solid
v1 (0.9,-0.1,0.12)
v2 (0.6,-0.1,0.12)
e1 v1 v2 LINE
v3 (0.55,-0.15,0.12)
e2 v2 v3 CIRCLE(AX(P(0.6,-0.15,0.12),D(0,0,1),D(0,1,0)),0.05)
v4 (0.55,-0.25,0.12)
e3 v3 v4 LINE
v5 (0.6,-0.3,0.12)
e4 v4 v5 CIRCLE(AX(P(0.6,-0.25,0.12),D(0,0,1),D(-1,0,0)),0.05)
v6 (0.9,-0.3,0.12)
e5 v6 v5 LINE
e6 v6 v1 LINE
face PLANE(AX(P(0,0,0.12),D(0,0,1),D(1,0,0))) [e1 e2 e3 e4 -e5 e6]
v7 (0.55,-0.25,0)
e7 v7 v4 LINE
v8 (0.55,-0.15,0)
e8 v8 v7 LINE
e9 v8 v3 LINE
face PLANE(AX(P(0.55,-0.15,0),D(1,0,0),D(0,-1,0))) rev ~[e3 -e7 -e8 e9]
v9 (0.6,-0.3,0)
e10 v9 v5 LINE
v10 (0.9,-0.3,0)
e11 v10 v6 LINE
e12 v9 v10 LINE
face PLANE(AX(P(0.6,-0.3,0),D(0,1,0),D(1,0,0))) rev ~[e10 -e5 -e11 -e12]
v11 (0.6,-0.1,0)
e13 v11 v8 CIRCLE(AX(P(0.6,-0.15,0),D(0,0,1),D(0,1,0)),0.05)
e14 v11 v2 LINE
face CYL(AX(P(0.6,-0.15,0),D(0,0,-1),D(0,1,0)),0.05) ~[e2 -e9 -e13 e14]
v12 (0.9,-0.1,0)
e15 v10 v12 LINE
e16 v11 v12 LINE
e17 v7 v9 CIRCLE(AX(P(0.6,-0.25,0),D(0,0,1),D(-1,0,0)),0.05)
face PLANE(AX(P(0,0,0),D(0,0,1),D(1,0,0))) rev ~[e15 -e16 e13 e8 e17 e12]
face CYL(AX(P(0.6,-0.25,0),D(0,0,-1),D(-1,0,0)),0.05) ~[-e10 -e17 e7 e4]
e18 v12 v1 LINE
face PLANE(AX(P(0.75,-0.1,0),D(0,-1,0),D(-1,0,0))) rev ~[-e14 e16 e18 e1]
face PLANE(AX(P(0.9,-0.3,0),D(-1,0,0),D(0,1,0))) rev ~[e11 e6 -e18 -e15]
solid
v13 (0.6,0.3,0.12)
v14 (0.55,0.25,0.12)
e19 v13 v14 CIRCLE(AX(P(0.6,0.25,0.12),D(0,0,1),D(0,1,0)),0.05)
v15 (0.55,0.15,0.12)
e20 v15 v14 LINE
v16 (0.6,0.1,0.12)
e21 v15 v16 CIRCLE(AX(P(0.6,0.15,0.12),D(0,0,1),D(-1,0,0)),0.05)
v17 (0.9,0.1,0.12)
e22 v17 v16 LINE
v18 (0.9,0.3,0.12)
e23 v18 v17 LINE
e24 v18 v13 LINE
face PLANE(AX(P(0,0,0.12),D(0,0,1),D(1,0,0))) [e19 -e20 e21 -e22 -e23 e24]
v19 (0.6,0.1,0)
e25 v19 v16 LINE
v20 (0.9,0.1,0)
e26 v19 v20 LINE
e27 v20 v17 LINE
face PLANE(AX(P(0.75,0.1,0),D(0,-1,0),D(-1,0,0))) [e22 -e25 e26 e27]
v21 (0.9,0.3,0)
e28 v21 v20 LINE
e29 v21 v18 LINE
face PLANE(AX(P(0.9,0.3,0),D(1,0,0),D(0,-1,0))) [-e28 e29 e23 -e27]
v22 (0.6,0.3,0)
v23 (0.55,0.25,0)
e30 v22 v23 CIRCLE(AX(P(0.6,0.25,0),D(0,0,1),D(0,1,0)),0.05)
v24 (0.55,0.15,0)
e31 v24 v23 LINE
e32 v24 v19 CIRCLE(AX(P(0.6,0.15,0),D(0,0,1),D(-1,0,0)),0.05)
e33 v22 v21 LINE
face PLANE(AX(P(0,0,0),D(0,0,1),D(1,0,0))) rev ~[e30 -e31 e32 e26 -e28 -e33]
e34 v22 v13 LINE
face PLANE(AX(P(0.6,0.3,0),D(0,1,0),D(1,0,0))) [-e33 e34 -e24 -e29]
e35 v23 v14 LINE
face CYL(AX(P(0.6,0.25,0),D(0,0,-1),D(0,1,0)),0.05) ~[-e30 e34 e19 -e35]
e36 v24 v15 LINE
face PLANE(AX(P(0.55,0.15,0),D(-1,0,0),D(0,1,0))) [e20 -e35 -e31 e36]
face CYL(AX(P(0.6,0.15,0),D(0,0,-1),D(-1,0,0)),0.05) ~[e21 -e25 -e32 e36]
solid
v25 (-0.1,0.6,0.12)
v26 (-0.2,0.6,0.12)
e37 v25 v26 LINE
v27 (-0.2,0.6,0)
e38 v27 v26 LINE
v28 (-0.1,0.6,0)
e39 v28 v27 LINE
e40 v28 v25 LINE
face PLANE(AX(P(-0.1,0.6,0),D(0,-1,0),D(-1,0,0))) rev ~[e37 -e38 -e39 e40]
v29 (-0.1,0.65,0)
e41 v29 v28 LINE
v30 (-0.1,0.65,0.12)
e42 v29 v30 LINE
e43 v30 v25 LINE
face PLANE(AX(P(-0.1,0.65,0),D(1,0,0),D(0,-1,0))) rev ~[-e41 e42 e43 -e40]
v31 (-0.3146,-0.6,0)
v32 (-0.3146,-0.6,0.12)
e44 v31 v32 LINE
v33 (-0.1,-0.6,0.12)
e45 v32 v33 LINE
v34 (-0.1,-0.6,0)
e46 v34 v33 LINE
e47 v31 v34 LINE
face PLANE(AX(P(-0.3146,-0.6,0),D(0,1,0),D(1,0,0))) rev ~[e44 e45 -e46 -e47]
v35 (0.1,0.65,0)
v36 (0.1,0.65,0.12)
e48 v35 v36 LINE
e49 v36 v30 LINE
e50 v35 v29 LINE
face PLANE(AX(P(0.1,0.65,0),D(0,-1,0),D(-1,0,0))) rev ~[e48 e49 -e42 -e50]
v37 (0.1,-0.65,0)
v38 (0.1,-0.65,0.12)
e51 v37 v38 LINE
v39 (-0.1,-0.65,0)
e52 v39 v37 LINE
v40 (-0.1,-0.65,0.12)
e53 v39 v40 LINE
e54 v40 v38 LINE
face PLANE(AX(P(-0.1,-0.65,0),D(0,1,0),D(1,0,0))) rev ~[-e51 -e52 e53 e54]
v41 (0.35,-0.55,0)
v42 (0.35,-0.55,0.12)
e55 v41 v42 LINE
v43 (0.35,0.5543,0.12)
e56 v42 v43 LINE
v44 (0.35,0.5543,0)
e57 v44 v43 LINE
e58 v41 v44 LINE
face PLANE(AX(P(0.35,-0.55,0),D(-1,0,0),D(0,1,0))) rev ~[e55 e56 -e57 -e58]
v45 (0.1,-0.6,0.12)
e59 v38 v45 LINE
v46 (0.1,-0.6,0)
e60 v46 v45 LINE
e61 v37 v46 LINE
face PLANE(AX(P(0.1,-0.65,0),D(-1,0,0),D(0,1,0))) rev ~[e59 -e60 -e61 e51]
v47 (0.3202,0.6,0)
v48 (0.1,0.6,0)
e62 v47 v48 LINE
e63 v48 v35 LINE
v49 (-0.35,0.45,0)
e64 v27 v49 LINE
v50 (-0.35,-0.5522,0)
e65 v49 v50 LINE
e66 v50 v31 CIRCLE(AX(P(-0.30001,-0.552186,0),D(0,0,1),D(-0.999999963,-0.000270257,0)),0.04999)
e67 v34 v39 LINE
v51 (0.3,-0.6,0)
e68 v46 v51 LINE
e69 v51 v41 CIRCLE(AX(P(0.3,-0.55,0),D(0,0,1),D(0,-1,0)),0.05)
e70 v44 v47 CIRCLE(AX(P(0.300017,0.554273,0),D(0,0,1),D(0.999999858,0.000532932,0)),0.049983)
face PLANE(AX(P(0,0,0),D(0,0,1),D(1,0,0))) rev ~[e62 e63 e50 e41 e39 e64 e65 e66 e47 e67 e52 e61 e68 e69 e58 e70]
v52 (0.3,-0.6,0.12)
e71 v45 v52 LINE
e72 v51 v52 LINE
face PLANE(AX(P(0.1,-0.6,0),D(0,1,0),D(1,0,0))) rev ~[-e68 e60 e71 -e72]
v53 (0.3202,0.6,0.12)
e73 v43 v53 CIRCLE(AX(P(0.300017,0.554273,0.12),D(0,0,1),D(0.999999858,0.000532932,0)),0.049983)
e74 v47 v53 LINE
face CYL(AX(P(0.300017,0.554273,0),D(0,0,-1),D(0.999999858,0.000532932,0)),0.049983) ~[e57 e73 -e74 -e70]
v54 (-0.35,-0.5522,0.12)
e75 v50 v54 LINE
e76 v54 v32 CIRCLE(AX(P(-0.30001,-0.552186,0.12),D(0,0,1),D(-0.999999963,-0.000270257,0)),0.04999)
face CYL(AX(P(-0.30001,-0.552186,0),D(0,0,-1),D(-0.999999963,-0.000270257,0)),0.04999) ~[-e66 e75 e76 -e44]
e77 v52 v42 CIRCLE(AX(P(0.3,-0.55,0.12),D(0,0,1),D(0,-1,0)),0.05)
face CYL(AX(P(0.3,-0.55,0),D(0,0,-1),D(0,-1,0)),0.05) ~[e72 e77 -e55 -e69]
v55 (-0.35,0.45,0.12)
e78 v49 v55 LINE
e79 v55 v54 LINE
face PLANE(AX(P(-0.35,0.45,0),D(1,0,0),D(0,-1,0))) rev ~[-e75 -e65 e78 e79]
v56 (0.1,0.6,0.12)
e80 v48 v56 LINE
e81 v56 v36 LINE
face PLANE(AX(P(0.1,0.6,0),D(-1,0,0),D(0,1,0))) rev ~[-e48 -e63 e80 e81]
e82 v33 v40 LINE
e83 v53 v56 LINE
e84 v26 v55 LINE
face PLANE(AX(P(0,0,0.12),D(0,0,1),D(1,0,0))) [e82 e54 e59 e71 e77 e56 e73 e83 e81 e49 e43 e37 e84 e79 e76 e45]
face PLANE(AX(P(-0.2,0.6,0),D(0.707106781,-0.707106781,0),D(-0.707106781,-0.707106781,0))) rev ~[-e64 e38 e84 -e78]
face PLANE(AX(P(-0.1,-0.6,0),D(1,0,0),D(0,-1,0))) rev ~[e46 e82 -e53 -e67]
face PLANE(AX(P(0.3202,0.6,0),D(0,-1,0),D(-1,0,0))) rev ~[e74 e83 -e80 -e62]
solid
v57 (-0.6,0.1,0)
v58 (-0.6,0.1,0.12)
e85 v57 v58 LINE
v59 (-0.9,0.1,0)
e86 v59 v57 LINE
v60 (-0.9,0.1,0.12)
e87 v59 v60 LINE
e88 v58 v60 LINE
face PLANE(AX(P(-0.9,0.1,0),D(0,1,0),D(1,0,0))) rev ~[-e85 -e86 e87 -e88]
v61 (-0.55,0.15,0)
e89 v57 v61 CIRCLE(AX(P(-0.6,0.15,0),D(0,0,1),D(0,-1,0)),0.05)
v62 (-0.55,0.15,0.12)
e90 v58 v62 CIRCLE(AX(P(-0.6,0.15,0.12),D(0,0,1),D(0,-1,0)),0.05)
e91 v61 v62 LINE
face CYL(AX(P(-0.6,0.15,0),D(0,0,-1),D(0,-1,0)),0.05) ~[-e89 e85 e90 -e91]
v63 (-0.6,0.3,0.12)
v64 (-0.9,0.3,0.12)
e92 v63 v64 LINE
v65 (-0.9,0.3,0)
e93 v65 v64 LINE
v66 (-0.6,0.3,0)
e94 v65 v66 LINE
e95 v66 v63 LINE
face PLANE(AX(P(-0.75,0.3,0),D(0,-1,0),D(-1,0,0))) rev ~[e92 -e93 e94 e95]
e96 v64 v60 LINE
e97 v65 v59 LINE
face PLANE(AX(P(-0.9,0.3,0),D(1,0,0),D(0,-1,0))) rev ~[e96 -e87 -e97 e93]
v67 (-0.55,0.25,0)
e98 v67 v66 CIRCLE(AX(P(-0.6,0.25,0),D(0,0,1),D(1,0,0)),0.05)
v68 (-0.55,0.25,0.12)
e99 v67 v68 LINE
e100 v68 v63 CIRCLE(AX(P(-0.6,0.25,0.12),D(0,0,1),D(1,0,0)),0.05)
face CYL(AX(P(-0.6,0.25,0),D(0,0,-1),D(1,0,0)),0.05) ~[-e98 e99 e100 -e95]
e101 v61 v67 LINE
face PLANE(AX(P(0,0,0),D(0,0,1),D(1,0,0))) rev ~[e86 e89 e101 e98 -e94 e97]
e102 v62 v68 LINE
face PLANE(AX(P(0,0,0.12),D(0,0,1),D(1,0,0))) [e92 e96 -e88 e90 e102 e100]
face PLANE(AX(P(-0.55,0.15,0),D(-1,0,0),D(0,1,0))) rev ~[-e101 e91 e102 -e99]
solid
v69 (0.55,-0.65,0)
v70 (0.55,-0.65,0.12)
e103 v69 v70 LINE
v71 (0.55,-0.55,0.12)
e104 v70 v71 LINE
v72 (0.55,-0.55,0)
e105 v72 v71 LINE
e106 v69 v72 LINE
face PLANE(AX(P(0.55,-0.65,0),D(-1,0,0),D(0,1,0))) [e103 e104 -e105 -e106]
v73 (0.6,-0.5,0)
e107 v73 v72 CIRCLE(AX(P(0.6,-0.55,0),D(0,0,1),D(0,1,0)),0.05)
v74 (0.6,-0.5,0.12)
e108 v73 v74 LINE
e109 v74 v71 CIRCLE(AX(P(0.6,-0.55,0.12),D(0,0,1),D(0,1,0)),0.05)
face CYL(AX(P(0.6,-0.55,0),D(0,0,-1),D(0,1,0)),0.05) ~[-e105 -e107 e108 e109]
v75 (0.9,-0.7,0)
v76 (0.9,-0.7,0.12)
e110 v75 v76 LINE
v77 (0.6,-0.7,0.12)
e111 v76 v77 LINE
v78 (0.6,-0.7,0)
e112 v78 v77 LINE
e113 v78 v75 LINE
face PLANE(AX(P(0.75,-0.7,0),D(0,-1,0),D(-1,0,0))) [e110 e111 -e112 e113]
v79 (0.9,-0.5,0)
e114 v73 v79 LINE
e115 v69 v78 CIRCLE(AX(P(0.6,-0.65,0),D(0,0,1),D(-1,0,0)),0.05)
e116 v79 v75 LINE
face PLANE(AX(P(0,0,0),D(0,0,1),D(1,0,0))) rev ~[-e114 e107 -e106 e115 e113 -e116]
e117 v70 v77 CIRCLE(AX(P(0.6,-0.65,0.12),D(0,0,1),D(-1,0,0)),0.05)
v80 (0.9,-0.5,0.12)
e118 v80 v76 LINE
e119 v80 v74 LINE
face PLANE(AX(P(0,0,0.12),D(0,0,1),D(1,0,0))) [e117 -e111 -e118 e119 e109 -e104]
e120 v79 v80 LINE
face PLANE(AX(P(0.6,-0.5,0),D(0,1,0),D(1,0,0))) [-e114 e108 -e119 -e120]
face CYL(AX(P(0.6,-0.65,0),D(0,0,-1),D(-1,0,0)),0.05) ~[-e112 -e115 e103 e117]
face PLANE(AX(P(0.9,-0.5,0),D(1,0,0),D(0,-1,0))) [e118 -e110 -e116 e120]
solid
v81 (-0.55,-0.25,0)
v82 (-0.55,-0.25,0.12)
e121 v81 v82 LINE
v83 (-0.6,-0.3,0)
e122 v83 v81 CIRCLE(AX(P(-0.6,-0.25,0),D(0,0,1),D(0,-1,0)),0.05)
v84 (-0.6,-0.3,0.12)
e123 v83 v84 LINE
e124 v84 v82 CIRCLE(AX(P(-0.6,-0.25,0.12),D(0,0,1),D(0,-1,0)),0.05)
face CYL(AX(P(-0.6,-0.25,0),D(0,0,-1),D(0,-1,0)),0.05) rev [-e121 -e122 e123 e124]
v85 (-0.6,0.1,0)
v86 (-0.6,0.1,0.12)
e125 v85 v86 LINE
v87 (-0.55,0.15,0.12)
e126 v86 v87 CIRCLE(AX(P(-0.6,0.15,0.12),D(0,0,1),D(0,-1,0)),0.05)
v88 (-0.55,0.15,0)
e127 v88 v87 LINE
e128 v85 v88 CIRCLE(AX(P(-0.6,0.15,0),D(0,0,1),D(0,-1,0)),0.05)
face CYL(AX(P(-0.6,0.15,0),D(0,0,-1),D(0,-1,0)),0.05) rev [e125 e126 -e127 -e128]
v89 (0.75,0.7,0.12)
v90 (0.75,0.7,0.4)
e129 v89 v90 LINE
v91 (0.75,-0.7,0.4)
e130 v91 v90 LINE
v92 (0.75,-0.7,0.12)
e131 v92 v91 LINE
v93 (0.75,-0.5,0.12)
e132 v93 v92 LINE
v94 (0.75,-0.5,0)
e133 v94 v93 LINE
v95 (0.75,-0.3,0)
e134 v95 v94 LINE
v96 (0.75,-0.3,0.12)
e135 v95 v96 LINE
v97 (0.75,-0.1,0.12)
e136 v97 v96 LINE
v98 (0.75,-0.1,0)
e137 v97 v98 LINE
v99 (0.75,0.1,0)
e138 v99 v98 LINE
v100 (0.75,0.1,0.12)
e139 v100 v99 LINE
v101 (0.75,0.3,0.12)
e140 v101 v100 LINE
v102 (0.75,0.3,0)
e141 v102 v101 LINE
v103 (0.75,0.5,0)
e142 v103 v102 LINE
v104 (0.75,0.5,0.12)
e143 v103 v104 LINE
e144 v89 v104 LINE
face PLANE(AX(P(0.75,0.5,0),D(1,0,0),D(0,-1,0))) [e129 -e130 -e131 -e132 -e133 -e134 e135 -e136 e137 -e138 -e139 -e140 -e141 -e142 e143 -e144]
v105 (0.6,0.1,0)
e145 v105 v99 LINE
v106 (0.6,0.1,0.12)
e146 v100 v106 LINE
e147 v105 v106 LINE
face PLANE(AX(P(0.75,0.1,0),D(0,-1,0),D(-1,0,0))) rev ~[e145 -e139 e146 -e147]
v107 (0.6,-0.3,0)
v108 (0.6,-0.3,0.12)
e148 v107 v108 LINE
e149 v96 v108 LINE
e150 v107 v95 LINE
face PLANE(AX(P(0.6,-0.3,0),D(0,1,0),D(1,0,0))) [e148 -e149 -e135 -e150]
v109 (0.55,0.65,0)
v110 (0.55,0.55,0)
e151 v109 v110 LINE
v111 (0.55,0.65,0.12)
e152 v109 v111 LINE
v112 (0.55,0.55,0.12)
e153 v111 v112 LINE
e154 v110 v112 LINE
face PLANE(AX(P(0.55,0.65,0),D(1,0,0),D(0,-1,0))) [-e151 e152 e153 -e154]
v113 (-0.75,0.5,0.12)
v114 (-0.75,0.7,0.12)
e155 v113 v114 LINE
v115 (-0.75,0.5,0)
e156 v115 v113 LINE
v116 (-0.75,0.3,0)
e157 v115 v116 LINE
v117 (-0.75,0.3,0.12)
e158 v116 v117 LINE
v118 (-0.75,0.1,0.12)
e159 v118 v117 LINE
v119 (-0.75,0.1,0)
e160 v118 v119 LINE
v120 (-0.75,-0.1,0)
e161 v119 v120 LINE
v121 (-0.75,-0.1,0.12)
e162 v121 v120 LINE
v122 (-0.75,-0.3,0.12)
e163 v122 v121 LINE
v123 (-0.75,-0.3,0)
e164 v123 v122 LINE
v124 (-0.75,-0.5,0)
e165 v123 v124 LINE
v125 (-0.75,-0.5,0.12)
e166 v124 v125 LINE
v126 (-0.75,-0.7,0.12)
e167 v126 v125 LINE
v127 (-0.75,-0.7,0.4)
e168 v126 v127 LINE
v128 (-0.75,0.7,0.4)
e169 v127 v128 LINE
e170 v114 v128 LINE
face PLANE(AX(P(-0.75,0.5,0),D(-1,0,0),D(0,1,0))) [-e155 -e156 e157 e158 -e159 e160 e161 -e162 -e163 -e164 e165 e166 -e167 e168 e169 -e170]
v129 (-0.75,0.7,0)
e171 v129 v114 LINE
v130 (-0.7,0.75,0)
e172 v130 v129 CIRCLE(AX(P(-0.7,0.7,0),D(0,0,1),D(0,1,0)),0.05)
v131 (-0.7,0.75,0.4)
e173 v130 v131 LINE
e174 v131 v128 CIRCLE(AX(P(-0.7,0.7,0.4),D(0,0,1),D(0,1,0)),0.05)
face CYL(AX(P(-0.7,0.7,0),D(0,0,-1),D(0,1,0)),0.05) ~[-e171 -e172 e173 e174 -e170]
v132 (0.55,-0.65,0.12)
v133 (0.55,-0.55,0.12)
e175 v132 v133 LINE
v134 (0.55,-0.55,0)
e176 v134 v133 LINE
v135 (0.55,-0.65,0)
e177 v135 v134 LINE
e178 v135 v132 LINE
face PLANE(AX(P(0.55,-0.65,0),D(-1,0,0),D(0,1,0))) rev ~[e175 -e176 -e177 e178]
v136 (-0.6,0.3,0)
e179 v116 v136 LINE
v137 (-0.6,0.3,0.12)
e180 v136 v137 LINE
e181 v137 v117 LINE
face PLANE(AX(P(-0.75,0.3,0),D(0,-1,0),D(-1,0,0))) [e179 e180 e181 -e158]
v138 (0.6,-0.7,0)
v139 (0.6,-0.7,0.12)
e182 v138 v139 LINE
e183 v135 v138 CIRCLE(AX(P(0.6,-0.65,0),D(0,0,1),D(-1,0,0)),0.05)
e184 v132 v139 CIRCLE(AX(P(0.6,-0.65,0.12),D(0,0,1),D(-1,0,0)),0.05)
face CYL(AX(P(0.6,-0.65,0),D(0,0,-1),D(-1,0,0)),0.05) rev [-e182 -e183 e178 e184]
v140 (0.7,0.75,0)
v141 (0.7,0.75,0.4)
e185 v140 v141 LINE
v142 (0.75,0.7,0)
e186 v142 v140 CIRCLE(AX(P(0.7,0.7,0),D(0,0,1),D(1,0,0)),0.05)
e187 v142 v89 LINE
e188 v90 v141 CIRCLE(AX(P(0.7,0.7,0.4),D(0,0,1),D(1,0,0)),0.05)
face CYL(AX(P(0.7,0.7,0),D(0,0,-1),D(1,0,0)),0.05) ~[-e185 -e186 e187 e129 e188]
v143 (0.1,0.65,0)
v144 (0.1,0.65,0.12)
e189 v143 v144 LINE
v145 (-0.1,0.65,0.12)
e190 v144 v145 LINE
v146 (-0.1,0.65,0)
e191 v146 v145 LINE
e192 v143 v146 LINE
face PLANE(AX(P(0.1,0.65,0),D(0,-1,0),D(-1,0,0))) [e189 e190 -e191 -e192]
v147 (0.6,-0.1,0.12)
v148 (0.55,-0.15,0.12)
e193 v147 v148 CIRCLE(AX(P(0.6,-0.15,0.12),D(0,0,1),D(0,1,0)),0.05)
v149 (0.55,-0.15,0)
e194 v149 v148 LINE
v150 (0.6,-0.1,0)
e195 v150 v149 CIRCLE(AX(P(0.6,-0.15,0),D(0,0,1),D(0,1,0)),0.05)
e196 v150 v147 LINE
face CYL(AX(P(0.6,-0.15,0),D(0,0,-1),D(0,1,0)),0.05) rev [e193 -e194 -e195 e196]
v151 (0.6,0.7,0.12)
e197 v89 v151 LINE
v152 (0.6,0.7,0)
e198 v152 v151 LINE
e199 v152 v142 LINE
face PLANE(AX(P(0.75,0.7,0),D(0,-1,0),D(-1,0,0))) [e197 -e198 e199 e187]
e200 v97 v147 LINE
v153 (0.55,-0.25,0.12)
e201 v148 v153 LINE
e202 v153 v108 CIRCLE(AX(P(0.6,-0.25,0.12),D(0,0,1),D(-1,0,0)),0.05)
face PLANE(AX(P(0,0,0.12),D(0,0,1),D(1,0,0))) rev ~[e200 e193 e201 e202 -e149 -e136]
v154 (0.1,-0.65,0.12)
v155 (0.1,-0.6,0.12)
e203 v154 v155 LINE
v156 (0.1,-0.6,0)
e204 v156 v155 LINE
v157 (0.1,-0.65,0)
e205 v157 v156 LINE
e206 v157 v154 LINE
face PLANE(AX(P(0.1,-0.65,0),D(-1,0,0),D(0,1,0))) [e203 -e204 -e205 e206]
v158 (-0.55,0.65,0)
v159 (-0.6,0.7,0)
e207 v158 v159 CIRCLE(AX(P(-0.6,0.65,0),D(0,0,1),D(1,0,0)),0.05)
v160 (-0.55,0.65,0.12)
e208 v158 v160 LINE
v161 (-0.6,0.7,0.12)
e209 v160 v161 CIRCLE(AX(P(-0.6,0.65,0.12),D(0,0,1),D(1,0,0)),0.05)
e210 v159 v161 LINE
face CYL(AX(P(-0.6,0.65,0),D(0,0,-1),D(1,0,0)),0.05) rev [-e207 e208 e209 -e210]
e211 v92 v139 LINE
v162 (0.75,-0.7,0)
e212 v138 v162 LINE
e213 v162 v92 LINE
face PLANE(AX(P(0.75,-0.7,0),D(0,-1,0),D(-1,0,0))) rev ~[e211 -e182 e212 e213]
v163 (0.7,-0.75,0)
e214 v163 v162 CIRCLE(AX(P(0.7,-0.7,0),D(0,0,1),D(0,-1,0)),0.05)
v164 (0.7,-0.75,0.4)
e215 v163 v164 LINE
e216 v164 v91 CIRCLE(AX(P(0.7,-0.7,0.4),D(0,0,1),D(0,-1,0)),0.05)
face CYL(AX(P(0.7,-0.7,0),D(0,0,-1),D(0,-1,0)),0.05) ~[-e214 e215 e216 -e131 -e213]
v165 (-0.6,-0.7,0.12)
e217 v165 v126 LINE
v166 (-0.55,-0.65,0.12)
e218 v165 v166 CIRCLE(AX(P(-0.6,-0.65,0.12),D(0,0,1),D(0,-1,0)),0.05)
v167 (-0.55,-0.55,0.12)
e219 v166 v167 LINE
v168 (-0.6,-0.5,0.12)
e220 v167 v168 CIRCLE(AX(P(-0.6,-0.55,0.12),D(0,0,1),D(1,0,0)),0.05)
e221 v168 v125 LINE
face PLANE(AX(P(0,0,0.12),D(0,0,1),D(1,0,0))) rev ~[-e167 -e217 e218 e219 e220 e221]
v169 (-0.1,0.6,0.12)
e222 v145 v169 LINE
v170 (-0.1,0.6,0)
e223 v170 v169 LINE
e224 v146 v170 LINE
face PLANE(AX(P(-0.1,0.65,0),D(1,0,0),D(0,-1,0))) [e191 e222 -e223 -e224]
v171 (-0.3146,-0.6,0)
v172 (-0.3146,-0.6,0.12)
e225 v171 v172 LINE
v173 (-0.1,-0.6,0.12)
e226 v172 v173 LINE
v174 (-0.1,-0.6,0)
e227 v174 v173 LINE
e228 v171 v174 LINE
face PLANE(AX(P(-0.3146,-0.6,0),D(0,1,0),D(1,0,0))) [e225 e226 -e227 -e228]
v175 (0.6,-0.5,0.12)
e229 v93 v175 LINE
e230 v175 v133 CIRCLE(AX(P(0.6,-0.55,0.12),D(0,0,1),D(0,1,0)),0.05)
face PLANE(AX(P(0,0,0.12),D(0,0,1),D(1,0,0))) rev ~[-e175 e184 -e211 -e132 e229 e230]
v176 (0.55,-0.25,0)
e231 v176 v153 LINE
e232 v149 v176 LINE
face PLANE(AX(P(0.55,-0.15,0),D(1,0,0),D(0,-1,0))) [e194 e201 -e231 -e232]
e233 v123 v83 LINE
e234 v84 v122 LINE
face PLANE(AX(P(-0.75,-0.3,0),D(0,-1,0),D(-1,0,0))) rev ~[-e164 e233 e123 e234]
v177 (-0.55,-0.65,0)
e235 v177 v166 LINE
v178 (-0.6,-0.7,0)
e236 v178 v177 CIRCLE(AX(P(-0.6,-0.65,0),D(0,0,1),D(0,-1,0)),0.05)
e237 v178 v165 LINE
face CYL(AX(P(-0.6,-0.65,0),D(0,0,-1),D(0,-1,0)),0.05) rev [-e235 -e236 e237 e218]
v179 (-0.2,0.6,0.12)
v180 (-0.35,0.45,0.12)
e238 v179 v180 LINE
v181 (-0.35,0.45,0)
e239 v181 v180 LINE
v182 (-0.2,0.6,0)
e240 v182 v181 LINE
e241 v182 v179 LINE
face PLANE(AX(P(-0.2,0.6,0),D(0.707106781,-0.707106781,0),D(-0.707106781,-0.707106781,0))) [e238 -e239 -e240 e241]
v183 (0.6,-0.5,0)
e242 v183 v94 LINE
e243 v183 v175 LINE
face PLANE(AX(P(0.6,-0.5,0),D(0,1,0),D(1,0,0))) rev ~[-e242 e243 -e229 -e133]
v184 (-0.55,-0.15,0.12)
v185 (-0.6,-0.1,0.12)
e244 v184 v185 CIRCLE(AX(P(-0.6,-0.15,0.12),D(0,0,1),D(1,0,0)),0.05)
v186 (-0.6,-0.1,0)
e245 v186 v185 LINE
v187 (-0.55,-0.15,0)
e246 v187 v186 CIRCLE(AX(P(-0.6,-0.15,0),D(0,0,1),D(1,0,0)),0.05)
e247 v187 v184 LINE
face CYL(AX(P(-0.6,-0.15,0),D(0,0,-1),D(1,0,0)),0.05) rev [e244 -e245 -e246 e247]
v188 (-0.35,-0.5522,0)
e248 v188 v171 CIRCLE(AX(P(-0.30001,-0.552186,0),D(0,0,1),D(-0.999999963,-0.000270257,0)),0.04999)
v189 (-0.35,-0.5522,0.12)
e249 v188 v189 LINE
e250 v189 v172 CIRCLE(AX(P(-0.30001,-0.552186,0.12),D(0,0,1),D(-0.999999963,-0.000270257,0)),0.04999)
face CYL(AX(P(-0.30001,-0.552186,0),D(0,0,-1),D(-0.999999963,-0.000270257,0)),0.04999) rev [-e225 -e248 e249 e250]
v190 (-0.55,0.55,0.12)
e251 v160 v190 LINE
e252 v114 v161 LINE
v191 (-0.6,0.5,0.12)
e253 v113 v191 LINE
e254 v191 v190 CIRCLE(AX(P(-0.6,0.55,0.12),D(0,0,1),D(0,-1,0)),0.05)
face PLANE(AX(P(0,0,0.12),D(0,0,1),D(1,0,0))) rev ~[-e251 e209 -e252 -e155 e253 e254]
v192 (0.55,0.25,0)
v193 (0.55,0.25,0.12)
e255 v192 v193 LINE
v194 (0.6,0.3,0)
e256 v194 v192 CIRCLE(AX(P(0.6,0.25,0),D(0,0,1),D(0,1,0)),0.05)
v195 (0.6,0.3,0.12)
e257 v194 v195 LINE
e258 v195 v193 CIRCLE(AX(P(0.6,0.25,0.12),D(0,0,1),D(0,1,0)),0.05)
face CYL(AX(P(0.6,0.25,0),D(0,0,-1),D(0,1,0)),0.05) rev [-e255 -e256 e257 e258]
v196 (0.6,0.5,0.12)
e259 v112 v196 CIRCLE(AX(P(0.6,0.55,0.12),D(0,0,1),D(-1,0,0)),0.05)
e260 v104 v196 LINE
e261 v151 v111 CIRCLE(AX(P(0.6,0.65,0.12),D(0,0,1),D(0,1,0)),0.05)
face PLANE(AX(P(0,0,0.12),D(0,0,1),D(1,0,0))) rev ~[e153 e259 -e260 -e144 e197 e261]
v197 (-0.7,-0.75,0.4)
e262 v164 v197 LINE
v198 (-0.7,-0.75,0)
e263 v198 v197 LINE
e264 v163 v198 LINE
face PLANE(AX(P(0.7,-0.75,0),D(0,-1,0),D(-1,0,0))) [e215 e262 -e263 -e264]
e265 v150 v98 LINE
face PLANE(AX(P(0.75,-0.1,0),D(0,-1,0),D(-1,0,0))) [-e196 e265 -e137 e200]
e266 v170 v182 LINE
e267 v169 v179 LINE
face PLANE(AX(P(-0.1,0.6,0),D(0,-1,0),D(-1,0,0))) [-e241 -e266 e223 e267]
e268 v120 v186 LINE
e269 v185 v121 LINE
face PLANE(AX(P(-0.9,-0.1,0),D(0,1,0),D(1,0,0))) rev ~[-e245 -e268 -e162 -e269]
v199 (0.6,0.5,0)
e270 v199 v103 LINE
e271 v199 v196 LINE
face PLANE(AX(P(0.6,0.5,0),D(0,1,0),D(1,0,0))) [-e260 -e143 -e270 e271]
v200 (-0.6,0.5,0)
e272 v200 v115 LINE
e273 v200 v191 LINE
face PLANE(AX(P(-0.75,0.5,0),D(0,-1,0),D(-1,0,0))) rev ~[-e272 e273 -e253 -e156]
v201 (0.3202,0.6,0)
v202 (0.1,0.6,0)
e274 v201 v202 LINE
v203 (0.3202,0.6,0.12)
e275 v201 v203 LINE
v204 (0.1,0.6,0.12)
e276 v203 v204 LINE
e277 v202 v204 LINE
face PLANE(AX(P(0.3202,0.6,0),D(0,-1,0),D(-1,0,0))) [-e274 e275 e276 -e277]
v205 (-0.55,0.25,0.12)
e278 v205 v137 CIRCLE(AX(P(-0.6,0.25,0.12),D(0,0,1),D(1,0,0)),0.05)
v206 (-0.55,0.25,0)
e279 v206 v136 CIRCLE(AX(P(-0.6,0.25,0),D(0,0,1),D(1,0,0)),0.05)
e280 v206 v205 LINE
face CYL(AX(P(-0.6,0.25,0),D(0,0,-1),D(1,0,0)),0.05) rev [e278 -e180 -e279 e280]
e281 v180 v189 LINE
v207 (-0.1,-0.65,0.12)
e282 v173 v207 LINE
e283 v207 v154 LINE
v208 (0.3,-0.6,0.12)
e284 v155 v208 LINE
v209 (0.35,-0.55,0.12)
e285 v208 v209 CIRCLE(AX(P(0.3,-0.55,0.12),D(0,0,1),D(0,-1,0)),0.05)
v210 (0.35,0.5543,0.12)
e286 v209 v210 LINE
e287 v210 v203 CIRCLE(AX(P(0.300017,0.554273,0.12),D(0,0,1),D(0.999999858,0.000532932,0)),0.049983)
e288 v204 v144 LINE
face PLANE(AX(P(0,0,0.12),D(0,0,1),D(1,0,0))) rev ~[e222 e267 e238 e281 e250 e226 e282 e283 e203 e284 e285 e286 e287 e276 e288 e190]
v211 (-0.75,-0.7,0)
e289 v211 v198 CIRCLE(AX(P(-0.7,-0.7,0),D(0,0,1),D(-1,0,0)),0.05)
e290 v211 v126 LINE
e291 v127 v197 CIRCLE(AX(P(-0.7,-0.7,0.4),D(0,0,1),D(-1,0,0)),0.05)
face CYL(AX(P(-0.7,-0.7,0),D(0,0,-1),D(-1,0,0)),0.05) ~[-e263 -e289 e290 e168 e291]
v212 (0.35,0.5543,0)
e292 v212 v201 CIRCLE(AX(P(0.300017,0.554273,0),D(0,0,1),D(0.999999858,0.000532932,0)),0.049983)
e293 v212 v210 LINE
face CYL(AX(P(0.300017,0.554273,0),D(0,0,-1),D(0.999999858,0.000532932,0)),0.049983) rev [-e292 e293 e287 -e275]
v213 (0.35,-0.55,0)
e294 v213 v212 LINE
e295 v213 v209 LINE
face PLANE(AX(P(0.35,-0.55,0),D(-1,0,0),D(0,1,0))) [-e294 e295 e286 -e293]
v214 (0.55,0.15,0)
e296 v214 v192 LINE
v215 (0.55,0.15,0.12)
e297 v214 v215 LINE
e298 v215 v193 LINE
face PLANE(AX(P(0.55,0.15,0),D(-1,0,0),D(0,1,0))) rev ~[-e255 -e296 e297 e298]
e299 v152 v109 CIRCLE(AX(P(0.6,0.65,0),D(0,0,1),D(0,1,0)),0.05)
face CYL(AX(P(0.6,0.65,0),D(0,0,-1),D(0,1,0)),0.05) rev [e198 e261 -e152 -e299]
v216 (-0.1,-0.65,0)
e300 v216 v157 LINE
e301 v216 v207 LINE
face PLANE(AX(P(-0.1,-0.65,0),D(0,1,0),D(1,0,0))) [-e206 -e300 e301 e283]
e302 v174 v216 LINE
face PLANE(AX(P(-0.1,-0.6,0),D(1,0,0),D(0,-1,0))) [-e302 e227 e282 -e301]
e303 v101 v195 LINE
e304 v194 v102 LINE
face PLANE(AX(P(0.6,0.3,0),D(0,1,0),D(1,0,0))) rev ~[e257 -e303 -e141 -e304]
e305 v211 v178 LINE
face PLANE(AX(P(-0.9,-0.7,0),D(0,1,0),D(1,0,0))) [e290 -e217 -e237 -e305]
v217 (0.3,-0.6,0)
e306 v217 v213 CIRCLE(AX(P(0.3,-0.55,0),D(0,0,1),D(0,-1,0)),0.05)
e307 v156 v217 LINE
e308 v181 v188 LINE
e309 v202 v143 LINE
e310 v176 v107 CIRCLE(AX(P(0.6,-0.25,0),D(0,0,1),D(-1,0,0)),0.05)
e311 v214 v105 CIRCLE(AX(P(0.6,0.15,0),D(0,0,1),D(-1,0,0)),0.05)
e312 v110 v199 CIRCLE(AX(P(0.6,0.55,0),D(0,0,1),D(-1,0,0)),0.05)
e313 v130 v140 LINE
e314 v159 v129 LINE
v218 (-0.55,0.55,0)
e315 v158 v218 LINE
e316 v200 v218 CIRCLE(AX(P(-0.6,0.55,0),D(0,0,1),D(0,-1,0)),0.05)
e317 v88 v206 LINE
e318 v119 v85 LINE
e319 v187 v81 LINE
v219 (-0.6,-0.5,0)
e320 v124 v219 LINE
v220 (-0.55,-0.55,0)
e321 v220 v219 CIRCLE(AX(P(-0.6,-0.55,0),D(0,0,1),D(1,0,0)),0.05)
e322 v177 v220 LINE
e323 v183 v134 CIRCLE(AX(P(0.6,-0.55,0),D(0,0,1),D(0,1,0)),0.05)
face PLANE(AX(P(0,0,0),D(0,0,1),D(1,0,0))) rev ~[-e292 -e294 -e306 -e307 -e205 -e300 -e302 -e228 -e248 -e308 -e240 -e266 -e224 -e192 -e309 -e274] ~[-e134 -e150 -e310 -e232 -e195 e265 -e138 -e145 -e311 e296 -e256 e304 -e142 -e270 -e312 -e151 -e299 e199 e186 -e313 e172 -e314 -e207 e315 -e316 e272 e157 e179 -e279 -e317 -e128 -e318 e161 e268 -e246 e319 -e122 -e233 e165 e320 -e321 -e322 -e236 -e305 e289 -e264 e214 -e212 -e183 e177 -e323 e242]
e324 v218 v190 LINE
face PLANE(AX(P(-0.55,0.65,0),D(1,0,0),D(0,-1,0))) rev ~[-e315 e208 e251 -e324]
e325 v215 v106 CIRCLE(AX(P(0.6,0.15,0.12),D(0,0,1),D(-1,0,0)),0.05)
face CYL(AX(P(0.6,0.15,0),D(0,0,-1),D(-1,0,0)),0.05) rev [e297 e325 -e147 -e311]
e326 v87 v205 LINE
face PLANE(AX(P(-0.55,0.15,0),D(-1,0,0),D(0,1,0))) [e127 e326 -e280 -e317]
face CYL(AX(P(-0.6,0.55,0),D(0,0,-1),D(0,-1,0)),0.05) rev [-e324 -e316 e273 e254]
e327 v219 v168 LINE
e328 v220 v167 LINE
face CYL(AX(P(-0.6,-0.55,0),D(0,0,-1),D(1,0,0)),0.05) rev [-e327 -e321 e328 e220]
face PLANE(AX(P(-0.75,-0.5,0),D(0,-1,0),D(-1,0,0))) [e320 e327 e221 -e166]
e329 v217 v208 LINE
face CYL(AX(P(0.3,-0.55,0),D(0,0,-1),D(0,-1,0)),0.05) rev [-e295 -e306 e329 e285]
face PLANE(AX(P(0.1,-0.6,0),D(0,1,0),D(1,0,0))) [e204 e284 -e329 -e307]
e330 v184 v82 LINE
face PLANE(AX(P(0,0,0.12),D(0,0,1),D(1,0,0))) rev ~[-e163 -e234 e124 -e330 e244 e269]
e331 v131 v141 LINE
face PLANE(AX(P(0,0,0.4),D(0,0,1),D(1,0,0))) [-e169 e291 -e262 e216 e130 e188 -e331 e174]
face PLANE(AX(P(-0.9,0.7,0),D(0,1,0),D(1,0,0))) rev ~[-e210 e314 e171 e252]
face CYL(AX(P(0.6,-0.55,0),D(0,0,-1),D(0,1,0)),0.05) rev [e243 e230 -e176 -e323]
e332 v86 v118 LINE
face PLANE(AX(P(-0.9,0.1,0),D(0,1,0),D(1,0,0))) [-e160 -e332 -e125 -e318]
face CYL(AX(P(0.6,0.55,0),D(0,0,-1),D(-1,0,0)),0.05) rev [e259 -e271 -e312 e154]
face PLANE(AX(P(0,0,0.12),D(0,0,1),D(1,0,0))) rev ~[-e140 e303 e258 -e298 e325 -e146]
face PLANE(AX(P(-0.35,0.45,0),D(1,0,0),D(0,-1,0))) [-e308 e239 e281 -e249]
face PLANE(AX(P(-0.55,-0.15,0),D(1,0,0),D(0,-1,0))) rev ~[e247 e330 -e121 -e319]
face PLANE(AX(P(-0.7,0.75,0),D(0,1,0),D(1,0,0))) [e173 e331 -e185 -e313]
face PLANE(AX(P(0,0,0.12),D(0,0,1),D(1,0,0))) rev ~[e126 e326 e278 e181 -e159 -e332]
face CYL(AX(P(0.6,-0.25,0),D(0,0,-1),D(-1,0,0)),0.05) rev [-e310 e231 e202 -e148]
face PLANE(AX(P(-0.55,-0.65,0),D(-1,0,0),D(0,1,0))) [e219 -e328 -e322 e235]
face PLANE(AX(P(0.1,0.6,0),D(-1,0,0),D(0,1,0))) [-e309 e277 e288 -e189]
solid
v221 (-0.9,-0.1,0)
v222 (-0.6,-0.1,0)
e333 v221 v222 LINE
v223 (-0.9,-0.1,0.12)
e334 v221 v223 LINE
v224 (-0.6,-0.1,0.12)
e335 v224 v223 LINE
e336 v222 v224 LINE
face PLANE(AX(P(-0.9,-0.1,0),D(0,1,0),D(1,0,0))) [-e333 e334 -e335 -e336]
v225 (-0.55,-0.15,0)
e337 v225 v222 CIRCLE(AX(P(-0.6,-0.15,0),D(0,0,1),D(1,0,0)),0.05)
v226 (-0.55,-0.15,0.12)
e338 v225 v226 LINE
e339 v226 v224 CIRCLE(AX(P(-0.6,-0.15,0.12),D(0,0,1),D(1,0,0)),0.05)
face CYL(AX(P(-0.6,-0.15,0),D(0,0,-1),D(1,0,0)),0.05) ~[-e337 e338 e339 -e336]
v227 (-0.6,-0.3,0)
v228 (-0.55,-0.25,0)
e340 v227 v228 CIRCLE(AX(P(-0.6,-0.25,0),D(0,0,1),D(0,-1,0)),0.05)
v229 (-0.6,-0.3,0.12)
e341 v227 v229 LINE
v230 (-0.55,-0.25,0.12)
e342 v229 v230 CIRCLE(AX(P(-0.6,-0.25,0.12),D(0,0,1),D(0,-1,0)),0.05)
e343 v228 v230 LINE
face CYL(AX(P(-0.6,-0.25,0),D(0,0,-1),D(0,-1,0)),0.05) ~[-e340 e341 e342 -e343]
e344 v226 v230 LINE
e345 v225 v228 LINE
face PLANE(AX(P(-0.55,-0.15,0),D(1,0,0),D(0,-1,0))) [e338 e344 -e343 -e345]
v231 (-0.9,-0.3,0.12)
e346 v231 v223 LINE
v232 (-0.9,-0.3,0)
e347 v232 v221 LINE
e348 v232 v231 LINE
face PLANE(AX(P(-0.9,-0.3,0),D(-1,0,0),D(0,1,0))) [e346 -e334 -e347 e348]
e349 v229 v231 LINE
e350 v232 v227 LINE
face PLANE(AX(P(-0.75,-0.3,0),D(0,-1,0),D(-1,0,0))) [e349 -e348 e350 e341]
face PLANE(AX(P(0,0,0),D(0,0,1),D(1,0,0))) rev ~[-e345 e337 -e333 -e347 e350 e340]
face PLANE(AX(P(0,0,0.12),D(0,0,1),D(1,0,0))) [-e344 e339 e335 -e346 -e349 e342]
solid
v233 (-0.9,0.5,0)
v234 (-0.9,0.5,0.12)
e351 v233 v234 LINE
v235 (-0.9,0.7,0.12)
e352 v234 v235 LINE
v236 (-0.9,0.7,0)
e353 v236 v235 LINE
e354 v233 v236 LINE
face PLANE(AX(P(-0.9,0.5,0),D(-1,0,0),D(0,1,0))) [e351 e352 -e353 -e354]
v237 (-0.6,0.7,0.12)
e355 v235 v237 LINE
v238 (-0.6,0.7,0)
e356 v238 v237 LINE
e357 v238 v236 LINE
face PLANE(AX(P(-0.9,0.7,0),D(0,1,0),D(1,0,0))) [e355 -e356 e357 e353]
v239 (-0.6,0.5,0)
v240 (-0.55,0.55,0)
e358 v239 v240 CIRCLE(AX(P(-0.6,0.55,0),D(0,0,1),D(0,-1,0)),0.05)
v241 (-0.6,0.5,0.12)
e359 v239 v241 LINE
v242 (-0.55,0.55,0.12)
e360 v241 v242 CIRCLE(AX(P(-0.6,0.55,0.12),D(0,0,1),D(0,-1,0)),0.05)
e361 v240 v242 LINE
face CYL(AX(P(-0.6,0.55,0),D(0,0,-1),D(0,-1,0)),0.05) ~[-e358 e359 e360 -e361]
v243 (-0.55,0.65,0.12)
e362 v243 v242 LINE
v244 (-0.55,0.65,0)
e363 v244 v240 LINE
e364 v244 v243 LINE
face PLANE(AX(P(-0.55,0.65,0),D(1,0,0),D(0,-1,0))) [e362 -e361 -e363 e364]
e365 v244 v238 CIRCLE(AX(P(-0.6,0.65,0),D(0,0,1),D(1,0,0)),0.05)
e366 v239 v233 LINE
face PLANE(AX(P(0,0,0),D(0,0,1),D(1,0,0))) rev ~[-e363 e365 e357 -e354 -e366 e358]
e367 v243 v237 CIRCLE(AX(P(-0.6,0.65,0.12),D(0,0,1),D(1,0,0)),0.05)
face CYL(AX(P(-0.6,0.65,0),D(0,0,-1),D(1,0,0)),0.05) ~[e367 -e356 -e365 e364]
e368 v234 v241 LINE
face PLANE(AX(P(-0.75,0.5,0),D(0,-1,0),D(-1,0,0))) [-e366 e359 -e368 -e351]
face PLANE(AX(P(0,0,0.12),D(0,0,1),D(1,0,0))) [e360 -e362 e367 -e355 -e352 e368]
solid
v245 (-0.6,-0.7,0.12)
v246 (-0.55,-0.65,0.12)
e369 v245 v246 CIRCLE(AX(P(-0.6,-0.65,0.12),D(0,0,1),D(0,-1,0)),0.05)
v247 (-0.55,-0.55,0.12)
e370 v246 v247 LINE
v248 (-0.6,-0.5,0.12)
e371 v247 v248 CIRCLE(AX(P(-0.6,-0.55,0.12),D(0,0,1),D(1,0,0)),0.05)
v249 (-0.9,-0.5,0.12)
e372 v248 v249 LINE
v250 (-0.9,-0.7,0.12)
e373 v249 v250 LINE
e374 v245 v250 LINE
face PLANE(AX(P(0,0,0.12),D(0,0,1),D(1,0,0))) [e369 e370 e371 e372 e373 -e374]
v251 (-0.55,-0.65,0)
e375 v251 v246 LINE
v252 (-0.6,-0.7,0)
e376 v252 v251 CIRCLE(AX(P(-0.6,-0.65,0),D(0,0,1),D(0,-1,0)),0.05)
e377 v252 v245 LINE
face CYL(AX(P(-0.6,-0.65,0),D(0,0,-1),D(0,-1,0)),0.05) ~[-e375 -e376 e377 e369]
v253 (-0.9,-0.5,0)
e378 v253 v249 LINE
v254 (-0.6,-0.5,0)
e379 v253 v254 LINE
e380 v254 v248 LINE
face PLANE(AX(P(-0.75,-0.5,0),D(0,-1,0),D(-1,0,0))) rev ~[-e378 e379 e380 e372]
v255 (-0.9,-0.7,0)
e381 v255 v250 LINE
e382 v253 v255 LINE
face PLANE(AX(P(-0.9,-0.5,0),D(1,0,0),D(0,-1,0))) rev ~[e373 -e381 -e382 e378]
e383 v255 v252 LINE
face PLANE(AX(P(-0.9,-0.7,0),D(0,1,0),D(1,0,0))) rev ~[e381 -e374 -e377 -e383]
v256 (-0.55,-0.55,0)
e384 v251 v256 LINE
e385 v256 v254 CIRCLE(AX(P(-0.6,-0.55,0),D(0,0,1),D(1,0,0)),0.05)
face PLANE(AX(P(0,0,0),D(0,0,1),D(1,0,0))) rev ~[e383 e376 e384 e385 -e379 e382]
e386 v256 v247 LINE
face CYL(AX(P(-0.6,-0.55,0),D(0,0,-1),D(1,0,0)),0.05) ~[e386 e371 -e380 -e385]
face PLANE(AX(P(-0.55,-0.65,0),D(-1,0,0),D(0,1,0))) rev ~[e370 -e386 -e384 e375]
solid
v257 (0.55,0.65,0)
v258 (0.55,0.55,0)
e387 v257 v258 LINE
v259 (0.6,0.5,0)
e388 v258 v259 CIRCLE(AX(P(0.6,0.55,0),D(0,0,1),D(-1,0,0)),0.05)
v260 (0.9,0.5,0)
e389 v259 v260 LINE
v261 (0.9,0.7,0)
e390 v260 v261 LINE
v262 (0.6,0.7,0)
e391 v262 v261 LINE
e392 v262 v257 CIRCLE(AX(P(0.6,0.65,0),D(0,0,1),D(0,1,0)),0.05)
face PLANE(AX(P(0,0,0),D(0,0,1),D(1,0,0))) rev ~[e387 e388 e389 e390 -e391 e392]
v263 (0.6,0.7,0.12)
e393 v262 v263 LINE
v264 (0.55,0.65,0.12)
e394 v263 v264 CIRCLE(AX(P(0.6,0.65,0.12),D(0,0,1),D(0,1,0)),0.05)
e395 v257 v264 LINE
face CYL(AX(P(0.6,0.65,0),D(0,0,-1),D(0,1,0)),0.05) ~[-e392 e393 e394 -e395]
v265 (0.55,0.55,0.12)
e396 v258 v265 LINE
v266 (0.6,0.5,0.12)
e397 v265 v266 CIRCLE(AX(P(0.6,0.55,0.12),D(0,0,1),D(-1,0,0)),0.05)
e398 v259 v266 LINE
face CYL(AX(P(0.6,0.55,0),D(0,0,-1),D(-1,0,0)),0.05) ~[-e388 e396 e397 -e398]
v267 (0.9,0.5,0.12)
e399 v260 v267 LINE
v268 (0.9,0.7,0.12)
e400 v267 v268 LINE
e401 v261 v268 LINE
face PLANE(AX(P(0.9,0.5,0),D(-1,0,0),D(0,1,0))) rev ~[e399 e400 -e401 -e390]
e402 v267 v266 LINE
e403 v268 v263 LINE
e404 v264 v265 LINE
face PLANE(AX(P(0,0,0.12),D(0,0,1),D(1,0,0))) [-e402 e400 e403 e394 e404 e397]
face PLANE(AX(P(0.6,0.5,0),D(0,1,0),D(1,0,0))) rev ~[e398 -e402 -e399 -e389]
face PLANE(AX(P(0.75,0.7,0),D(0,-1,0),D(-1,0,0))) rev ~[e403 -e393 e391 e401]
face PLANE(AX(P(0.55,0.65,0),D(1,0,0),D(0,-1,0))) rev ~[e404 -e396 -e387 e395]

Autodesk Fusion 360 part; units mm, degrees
sketch "草图1" plane through (0, 0, 0) normal (0, 0, 1) x (1, 0, 0)
  line L0 (-0.9, 0.7) -> (-0.6, 0.7)
  arc A0 (-0.55, 0.65) -> (-0.6, 0.7) centre (-0.6, 0.65) ccw
  line L1 (-0.55, 0.65) -> (-0.55, 0.55)
  arc A1 (-0.6, 0.5) -> (-0.55, 0.55) centre (-0.6, 0.55) ccw
  line L2 (-0.6, 0.5) -> (-0.9, 0.5)
  line L3 (-0.9, 0.5) -> (-0.9, 0.7)
  line L4 (0, 2.2) -> (0, -1) construction
  line L5 (-2.7, 0) -> (2.5608, 0) construction
  line L6 (-1.4896, 0.4) -> (-0.5, 0.4) construction
  line L7 (-0.9, 0.1) -> (-0.6, 0.1)
  line L8 (-0.9, 0.3) -> (-0.9, 0.1)
  line L9 (-0.6, 0.3) -> (-0.9, 0.3)
  line L10 (-0.55, 0.15) -> (-0.55, 0.25)
  arc A2 (-0.6, 0.1) -> (-0.55, 0.15) centre (-0.6, 0.15) ccw
  arc A3 (-0.55, 0.25) -> (-0.6, 0.3) centre (-0.6, 0.25) ccw
  arc A4 (-0.6, -0.7) -> (-0.55, -0.65) centre (-0.6, -0.65) ccw
  line L11 (-0.6, -0.3) -> (-0.9, -0.3)
  line L12 (-0.9, -0.7) -> (-0.6, -0.7)
  line L13 (-0.55, -0.65) -> (-0.55, -0.55)
  line L14 (-0.9, -0.3) -> (-0.9, -0.1)
  arc A5 (-0.55, -0.55) -> (-0.6, -0.5) centre (-0.6, -0.55) ccw
  line L15 (-0.6, -0.5) -> (-0.9, -0.5)
  line L16 (-0.55, -0.15) -> (-0.55, -0.25)
  arc A6 (-0.55, -0.15) -> (-0.6, -0.1) centre (-0.6, -0.15) ccw
  arc A7 (-0.6, -0.3) -> (-0.55, -0.25) centre (-0.6, -0.25) ccw
  line L17 (-0.9, -0.1) -> (-0.6, -0.1)
  line L18 (-0.9, -0.5) -> (-0.9, -0.7)
  arc A8 (0.6, -0.5) -> (0.55, -0.55) centre (0.6, -0.55) ccw
  line L19 (0.55, -0.65) -> (0.55, -0.55)
  arc A9 (0.6, -0.1) -> (0.55, -0.15) centre (0.6, -0.15) ccw
  line L20 (0.9, -0.5) -> (0.9, -0.7)
  line L21 (0.6, -0.5) -> (0.9, -0.5)
  arc A10 (0.55, -0.65) -> (0.6, -0.7) centre (0.6, -0.65) ccw
  line L22 (0.9, -0.7) -> (0.6, -0.7)
  line L23 (0.6, -0.3) -> (0.9, -0.3)
  line L24 (0.9, -0.3) -> (0.9, -0.1)
  line L25 (0.9, -0.1) -> (0.6, -0.1)
  line L26 (0.55, -0.15) -> (0.55, -0.25)
  arc A11 (0.55, -0.25) -> (0.6, -0.3) centre (0.6, -0.25) ccw
  line L27 (0.6, 0.3) -> (0.9, 0.3)
  line L28 (0.9, 0.1) -> (0.6, 0.1)
  line L29 (0.9, 0.3) -> (0.9, 0.1)
  arc A12 (0.55, 0.15) -> (0.6, 0.1) centre (0.6, 0.15) ccw
  arc A13 (0.6, 0.3) -> (0.55, 0.25) centre (0.6, 0.25) ccw
  line L30 (0.55, 0.15) -> (0.55, 0.25)
  arc A14 (0.6, 0.7) -> (0.55, 0.65) centre (0.6, 0.65) ccw
  line L31 (0.6, 0.5) -> (0.9, 0.5)
  line L32 (0.9, 0.7) -> (0.6, 0.7)
  arc A15 (0.55, 0.55) -> (0.6, 0.5) centre (0.6, 0.55) ccw
  line L33 (0.9, 0.5) -> (0.9, 0.7)
  line L34 (0.55, 0.65) -> (0.55, 0.55)
  line L35 (-0.2, 0.6) -> (-0.35, 0.45)
  line L36 (-0.35, 0.45) -> (-0.35, -0.5522)
  arc A16 (-0.35, -0.5522) -> (-0.3146, -0.6) centre (-0.3, -0.5522) ccw
  line L37 (-0.3146, -0.6) -> (-0.1, -0.6)
  line L38 (-0.1, -0.6) -> (-0.1, -0.65)
  line L39 (-0.1, -0.65) -> (0.1, -0.65)
  line L40 (0.1, -0.65) -> (0.1, -0.6)
  line L41 (0.1, -0.6) -> (0.3, -0.6)
  arc A17 (0.3, -0.6) -> (0.35, -0.55) centre (0.3, -0.55) ccw
  line L42 (0.35, -0.55) -> (0.35, 0.5543)
  arc A18 (0.35, 0.5543) -> (0.3202, 0.6) centre (0.3, 0.5543) ccw
  line L43 (0.3202, 0.6) -> (0.1, 0.6)
  line L44 (0.1, 0.6) -> (0.1, 0.65)
  line L45 (0.1, 0.65) -> (-0.1, 0.65)
  line L46 (-0.1, 0.65) -> (-0.1, 0.6)
  line L47 (-0.1, 0.6) -> (-0.2, 0.6)
  line L48 (-0.7, 0.75) -> (0.7, 0.75)
  arc A19 (0.75, 0.7) -> (0.7, 0.75) centre (0.7, 0.7) ccw
  line L49 (0.75, 0.7) -> (0.75, -0.7)
  arc A20 (0.7, -0.75) -> (0.75, -0.7) centre (0.7, -0.7) ccw
  line L50 (0.7, -0.75) -> (-0.7, -0.75)
  arc A21 (-0.75, -0.7) -> (-0.7, -0.75) centre (-0.7, -0.7) ccw
  line L51 (-0.75, -0.7) -> (-0.75, 0.7)
  arc A22 (-0.7, 0.75) -> (-0.75, 0.7) centre (-0.7, 0.7) ccw
  dimension "d1" = 0.2
  dimension "d2" = 0.35
  dimension "d3" = 0.05
  dimension "d4" = 0.55
  dimension "d5" = 0.5
  dimension "d6" = 0.4
  dimension "d7" = 0.05
  dimension "d8" = 0.2
  dimension "d9" = 0.2
  dimension "d10" = 0.7
  dimension "d11" = 0.05
  dimension "d12" = 0.05
  dimension "d14" = 0.15
  dimension "d15" = 0.15
  dimension "d16" = 1.2
  dimension "d17" = 0.05
  dimension "d18" = 1.5
  dimension "d19" = 1.5
extrude "拉伸1" add sketch "草图1" along normal blind 0.4 contours L0 A0 L1 A1 L2 L7 L9 L10 A2 A3 A4 L11 L12 L13 A5 L15 L16 A6 A7 L17 A8 L19 A9 L21 A10 L22 L23 L25 L26 A11 L27 L28 A12 A13 L30 A14 L31 L32 A15 L34 L48 A19 L49 A20 L50 A21 L51 A22 | L0 A0 L1 A1 L2 L51 | L7 L9 L10 A2 A3 L51 | A14 L31 L32 A15 L34 L49 | L11 L16 A6 A7 L17 L51 | L27 L28 A12 A13 L30 L49 | A4 L12 L13 A5 L15 L51 | A9 L23 L25 L26 A11 L49 | A8 L19 L21 A10 L22 L49 | L35 L36 A16 L37 L38 L39 L40 L41 A17 L42 A18 L43 L44 L45 L46 L47 makes body 1
extrude "拉伸2" cut sketch "草图1" along normal blind 0.12 contours L0 L2 L3 L51 | L0 A0 L1 A1 L2 L51 | L7 L8 L9 L51 | L7 L9 L10 A2 A3 L51 | A14 L31 L32 A15 L34 L49 | L31 L32 L33 L49 | L11 L14 L17 L51 | L11 L16 A6 A7 L17 L51 | L27 L28 A12 A13 L30 L49 | L27 L28 L29 L49 | L12 L15 L18 L51 | A4 L12 L13 A5 L15 L51 | A9 L23 L25 L26 A11 L49 | L23 L24 L25 L49 | A8 L19 L21 A10 L22 L49 | L20 L21 L22 L49 | L35 L36 A16 L37 L38 L39 L40 L41 A17 L42 A18 L43 L44 L45 L46 L47 bodies 1
extrude "拉伸3" add sketch "草图1" along normal blind 0.12 separate body contours L0 L2 L3 L51 | L0 A0 L1 A1 L2 L51 | L7 L8 L9 L51 | L7 L9 L10 A2 A3 L51 | A14 L31 L32 A15 L34 L49 | L31 L32 L33 L49 | L11 L14 L17 L51 | L11 L16 A6 A7 L17 L51 | L27 L28 A12 A13 L30 L49 | L27 L28 L29 L49 | L12 L15 L18 L51 | A4 L12 L13 A5 L15 L51 | A9 L23 L25 L26 A11 L49 | L23 L24 L25 L49 | A8 L19 L21 A10 L22 L49 | L20 L21 L22 L49 | L35 L36 A16 L37 L38 L39 L40 L41 A17 L42 A18 L43 L44 L45 L46 L47 makes body 2 at (0.8, 0.1667, 0) makes body 3 at (-0.7, -0.2333, 0) makes body 4 at (-0.7, -0.6333, 0) makes body 5 at (0.8, 0.5667, 0) makes body 6 at (0.7, -0.1667, 0) makes body 7 at (-0.8, 0.2333, 0) makes body 8 at (-0.05, 0.15, 0) makes body 9 at (-0.8, 0.6333, 0) makes body 10 at (0.8, -0.6333, 0)
sketch "草图2" plane through (0, -0.7, 0) normal (0, -1, 0) x (1, 0, 0)
  line L0 (-0.9, 0) -> (-0.6, 0)
  line L1 (-0.6, 0) -> (-0.6, 0.12)
  line L2 (-0.6, 0.12) -> (-0.9, 0.12)
  line L3 (-0.9, 0.12) -> (-0.9, 0)
